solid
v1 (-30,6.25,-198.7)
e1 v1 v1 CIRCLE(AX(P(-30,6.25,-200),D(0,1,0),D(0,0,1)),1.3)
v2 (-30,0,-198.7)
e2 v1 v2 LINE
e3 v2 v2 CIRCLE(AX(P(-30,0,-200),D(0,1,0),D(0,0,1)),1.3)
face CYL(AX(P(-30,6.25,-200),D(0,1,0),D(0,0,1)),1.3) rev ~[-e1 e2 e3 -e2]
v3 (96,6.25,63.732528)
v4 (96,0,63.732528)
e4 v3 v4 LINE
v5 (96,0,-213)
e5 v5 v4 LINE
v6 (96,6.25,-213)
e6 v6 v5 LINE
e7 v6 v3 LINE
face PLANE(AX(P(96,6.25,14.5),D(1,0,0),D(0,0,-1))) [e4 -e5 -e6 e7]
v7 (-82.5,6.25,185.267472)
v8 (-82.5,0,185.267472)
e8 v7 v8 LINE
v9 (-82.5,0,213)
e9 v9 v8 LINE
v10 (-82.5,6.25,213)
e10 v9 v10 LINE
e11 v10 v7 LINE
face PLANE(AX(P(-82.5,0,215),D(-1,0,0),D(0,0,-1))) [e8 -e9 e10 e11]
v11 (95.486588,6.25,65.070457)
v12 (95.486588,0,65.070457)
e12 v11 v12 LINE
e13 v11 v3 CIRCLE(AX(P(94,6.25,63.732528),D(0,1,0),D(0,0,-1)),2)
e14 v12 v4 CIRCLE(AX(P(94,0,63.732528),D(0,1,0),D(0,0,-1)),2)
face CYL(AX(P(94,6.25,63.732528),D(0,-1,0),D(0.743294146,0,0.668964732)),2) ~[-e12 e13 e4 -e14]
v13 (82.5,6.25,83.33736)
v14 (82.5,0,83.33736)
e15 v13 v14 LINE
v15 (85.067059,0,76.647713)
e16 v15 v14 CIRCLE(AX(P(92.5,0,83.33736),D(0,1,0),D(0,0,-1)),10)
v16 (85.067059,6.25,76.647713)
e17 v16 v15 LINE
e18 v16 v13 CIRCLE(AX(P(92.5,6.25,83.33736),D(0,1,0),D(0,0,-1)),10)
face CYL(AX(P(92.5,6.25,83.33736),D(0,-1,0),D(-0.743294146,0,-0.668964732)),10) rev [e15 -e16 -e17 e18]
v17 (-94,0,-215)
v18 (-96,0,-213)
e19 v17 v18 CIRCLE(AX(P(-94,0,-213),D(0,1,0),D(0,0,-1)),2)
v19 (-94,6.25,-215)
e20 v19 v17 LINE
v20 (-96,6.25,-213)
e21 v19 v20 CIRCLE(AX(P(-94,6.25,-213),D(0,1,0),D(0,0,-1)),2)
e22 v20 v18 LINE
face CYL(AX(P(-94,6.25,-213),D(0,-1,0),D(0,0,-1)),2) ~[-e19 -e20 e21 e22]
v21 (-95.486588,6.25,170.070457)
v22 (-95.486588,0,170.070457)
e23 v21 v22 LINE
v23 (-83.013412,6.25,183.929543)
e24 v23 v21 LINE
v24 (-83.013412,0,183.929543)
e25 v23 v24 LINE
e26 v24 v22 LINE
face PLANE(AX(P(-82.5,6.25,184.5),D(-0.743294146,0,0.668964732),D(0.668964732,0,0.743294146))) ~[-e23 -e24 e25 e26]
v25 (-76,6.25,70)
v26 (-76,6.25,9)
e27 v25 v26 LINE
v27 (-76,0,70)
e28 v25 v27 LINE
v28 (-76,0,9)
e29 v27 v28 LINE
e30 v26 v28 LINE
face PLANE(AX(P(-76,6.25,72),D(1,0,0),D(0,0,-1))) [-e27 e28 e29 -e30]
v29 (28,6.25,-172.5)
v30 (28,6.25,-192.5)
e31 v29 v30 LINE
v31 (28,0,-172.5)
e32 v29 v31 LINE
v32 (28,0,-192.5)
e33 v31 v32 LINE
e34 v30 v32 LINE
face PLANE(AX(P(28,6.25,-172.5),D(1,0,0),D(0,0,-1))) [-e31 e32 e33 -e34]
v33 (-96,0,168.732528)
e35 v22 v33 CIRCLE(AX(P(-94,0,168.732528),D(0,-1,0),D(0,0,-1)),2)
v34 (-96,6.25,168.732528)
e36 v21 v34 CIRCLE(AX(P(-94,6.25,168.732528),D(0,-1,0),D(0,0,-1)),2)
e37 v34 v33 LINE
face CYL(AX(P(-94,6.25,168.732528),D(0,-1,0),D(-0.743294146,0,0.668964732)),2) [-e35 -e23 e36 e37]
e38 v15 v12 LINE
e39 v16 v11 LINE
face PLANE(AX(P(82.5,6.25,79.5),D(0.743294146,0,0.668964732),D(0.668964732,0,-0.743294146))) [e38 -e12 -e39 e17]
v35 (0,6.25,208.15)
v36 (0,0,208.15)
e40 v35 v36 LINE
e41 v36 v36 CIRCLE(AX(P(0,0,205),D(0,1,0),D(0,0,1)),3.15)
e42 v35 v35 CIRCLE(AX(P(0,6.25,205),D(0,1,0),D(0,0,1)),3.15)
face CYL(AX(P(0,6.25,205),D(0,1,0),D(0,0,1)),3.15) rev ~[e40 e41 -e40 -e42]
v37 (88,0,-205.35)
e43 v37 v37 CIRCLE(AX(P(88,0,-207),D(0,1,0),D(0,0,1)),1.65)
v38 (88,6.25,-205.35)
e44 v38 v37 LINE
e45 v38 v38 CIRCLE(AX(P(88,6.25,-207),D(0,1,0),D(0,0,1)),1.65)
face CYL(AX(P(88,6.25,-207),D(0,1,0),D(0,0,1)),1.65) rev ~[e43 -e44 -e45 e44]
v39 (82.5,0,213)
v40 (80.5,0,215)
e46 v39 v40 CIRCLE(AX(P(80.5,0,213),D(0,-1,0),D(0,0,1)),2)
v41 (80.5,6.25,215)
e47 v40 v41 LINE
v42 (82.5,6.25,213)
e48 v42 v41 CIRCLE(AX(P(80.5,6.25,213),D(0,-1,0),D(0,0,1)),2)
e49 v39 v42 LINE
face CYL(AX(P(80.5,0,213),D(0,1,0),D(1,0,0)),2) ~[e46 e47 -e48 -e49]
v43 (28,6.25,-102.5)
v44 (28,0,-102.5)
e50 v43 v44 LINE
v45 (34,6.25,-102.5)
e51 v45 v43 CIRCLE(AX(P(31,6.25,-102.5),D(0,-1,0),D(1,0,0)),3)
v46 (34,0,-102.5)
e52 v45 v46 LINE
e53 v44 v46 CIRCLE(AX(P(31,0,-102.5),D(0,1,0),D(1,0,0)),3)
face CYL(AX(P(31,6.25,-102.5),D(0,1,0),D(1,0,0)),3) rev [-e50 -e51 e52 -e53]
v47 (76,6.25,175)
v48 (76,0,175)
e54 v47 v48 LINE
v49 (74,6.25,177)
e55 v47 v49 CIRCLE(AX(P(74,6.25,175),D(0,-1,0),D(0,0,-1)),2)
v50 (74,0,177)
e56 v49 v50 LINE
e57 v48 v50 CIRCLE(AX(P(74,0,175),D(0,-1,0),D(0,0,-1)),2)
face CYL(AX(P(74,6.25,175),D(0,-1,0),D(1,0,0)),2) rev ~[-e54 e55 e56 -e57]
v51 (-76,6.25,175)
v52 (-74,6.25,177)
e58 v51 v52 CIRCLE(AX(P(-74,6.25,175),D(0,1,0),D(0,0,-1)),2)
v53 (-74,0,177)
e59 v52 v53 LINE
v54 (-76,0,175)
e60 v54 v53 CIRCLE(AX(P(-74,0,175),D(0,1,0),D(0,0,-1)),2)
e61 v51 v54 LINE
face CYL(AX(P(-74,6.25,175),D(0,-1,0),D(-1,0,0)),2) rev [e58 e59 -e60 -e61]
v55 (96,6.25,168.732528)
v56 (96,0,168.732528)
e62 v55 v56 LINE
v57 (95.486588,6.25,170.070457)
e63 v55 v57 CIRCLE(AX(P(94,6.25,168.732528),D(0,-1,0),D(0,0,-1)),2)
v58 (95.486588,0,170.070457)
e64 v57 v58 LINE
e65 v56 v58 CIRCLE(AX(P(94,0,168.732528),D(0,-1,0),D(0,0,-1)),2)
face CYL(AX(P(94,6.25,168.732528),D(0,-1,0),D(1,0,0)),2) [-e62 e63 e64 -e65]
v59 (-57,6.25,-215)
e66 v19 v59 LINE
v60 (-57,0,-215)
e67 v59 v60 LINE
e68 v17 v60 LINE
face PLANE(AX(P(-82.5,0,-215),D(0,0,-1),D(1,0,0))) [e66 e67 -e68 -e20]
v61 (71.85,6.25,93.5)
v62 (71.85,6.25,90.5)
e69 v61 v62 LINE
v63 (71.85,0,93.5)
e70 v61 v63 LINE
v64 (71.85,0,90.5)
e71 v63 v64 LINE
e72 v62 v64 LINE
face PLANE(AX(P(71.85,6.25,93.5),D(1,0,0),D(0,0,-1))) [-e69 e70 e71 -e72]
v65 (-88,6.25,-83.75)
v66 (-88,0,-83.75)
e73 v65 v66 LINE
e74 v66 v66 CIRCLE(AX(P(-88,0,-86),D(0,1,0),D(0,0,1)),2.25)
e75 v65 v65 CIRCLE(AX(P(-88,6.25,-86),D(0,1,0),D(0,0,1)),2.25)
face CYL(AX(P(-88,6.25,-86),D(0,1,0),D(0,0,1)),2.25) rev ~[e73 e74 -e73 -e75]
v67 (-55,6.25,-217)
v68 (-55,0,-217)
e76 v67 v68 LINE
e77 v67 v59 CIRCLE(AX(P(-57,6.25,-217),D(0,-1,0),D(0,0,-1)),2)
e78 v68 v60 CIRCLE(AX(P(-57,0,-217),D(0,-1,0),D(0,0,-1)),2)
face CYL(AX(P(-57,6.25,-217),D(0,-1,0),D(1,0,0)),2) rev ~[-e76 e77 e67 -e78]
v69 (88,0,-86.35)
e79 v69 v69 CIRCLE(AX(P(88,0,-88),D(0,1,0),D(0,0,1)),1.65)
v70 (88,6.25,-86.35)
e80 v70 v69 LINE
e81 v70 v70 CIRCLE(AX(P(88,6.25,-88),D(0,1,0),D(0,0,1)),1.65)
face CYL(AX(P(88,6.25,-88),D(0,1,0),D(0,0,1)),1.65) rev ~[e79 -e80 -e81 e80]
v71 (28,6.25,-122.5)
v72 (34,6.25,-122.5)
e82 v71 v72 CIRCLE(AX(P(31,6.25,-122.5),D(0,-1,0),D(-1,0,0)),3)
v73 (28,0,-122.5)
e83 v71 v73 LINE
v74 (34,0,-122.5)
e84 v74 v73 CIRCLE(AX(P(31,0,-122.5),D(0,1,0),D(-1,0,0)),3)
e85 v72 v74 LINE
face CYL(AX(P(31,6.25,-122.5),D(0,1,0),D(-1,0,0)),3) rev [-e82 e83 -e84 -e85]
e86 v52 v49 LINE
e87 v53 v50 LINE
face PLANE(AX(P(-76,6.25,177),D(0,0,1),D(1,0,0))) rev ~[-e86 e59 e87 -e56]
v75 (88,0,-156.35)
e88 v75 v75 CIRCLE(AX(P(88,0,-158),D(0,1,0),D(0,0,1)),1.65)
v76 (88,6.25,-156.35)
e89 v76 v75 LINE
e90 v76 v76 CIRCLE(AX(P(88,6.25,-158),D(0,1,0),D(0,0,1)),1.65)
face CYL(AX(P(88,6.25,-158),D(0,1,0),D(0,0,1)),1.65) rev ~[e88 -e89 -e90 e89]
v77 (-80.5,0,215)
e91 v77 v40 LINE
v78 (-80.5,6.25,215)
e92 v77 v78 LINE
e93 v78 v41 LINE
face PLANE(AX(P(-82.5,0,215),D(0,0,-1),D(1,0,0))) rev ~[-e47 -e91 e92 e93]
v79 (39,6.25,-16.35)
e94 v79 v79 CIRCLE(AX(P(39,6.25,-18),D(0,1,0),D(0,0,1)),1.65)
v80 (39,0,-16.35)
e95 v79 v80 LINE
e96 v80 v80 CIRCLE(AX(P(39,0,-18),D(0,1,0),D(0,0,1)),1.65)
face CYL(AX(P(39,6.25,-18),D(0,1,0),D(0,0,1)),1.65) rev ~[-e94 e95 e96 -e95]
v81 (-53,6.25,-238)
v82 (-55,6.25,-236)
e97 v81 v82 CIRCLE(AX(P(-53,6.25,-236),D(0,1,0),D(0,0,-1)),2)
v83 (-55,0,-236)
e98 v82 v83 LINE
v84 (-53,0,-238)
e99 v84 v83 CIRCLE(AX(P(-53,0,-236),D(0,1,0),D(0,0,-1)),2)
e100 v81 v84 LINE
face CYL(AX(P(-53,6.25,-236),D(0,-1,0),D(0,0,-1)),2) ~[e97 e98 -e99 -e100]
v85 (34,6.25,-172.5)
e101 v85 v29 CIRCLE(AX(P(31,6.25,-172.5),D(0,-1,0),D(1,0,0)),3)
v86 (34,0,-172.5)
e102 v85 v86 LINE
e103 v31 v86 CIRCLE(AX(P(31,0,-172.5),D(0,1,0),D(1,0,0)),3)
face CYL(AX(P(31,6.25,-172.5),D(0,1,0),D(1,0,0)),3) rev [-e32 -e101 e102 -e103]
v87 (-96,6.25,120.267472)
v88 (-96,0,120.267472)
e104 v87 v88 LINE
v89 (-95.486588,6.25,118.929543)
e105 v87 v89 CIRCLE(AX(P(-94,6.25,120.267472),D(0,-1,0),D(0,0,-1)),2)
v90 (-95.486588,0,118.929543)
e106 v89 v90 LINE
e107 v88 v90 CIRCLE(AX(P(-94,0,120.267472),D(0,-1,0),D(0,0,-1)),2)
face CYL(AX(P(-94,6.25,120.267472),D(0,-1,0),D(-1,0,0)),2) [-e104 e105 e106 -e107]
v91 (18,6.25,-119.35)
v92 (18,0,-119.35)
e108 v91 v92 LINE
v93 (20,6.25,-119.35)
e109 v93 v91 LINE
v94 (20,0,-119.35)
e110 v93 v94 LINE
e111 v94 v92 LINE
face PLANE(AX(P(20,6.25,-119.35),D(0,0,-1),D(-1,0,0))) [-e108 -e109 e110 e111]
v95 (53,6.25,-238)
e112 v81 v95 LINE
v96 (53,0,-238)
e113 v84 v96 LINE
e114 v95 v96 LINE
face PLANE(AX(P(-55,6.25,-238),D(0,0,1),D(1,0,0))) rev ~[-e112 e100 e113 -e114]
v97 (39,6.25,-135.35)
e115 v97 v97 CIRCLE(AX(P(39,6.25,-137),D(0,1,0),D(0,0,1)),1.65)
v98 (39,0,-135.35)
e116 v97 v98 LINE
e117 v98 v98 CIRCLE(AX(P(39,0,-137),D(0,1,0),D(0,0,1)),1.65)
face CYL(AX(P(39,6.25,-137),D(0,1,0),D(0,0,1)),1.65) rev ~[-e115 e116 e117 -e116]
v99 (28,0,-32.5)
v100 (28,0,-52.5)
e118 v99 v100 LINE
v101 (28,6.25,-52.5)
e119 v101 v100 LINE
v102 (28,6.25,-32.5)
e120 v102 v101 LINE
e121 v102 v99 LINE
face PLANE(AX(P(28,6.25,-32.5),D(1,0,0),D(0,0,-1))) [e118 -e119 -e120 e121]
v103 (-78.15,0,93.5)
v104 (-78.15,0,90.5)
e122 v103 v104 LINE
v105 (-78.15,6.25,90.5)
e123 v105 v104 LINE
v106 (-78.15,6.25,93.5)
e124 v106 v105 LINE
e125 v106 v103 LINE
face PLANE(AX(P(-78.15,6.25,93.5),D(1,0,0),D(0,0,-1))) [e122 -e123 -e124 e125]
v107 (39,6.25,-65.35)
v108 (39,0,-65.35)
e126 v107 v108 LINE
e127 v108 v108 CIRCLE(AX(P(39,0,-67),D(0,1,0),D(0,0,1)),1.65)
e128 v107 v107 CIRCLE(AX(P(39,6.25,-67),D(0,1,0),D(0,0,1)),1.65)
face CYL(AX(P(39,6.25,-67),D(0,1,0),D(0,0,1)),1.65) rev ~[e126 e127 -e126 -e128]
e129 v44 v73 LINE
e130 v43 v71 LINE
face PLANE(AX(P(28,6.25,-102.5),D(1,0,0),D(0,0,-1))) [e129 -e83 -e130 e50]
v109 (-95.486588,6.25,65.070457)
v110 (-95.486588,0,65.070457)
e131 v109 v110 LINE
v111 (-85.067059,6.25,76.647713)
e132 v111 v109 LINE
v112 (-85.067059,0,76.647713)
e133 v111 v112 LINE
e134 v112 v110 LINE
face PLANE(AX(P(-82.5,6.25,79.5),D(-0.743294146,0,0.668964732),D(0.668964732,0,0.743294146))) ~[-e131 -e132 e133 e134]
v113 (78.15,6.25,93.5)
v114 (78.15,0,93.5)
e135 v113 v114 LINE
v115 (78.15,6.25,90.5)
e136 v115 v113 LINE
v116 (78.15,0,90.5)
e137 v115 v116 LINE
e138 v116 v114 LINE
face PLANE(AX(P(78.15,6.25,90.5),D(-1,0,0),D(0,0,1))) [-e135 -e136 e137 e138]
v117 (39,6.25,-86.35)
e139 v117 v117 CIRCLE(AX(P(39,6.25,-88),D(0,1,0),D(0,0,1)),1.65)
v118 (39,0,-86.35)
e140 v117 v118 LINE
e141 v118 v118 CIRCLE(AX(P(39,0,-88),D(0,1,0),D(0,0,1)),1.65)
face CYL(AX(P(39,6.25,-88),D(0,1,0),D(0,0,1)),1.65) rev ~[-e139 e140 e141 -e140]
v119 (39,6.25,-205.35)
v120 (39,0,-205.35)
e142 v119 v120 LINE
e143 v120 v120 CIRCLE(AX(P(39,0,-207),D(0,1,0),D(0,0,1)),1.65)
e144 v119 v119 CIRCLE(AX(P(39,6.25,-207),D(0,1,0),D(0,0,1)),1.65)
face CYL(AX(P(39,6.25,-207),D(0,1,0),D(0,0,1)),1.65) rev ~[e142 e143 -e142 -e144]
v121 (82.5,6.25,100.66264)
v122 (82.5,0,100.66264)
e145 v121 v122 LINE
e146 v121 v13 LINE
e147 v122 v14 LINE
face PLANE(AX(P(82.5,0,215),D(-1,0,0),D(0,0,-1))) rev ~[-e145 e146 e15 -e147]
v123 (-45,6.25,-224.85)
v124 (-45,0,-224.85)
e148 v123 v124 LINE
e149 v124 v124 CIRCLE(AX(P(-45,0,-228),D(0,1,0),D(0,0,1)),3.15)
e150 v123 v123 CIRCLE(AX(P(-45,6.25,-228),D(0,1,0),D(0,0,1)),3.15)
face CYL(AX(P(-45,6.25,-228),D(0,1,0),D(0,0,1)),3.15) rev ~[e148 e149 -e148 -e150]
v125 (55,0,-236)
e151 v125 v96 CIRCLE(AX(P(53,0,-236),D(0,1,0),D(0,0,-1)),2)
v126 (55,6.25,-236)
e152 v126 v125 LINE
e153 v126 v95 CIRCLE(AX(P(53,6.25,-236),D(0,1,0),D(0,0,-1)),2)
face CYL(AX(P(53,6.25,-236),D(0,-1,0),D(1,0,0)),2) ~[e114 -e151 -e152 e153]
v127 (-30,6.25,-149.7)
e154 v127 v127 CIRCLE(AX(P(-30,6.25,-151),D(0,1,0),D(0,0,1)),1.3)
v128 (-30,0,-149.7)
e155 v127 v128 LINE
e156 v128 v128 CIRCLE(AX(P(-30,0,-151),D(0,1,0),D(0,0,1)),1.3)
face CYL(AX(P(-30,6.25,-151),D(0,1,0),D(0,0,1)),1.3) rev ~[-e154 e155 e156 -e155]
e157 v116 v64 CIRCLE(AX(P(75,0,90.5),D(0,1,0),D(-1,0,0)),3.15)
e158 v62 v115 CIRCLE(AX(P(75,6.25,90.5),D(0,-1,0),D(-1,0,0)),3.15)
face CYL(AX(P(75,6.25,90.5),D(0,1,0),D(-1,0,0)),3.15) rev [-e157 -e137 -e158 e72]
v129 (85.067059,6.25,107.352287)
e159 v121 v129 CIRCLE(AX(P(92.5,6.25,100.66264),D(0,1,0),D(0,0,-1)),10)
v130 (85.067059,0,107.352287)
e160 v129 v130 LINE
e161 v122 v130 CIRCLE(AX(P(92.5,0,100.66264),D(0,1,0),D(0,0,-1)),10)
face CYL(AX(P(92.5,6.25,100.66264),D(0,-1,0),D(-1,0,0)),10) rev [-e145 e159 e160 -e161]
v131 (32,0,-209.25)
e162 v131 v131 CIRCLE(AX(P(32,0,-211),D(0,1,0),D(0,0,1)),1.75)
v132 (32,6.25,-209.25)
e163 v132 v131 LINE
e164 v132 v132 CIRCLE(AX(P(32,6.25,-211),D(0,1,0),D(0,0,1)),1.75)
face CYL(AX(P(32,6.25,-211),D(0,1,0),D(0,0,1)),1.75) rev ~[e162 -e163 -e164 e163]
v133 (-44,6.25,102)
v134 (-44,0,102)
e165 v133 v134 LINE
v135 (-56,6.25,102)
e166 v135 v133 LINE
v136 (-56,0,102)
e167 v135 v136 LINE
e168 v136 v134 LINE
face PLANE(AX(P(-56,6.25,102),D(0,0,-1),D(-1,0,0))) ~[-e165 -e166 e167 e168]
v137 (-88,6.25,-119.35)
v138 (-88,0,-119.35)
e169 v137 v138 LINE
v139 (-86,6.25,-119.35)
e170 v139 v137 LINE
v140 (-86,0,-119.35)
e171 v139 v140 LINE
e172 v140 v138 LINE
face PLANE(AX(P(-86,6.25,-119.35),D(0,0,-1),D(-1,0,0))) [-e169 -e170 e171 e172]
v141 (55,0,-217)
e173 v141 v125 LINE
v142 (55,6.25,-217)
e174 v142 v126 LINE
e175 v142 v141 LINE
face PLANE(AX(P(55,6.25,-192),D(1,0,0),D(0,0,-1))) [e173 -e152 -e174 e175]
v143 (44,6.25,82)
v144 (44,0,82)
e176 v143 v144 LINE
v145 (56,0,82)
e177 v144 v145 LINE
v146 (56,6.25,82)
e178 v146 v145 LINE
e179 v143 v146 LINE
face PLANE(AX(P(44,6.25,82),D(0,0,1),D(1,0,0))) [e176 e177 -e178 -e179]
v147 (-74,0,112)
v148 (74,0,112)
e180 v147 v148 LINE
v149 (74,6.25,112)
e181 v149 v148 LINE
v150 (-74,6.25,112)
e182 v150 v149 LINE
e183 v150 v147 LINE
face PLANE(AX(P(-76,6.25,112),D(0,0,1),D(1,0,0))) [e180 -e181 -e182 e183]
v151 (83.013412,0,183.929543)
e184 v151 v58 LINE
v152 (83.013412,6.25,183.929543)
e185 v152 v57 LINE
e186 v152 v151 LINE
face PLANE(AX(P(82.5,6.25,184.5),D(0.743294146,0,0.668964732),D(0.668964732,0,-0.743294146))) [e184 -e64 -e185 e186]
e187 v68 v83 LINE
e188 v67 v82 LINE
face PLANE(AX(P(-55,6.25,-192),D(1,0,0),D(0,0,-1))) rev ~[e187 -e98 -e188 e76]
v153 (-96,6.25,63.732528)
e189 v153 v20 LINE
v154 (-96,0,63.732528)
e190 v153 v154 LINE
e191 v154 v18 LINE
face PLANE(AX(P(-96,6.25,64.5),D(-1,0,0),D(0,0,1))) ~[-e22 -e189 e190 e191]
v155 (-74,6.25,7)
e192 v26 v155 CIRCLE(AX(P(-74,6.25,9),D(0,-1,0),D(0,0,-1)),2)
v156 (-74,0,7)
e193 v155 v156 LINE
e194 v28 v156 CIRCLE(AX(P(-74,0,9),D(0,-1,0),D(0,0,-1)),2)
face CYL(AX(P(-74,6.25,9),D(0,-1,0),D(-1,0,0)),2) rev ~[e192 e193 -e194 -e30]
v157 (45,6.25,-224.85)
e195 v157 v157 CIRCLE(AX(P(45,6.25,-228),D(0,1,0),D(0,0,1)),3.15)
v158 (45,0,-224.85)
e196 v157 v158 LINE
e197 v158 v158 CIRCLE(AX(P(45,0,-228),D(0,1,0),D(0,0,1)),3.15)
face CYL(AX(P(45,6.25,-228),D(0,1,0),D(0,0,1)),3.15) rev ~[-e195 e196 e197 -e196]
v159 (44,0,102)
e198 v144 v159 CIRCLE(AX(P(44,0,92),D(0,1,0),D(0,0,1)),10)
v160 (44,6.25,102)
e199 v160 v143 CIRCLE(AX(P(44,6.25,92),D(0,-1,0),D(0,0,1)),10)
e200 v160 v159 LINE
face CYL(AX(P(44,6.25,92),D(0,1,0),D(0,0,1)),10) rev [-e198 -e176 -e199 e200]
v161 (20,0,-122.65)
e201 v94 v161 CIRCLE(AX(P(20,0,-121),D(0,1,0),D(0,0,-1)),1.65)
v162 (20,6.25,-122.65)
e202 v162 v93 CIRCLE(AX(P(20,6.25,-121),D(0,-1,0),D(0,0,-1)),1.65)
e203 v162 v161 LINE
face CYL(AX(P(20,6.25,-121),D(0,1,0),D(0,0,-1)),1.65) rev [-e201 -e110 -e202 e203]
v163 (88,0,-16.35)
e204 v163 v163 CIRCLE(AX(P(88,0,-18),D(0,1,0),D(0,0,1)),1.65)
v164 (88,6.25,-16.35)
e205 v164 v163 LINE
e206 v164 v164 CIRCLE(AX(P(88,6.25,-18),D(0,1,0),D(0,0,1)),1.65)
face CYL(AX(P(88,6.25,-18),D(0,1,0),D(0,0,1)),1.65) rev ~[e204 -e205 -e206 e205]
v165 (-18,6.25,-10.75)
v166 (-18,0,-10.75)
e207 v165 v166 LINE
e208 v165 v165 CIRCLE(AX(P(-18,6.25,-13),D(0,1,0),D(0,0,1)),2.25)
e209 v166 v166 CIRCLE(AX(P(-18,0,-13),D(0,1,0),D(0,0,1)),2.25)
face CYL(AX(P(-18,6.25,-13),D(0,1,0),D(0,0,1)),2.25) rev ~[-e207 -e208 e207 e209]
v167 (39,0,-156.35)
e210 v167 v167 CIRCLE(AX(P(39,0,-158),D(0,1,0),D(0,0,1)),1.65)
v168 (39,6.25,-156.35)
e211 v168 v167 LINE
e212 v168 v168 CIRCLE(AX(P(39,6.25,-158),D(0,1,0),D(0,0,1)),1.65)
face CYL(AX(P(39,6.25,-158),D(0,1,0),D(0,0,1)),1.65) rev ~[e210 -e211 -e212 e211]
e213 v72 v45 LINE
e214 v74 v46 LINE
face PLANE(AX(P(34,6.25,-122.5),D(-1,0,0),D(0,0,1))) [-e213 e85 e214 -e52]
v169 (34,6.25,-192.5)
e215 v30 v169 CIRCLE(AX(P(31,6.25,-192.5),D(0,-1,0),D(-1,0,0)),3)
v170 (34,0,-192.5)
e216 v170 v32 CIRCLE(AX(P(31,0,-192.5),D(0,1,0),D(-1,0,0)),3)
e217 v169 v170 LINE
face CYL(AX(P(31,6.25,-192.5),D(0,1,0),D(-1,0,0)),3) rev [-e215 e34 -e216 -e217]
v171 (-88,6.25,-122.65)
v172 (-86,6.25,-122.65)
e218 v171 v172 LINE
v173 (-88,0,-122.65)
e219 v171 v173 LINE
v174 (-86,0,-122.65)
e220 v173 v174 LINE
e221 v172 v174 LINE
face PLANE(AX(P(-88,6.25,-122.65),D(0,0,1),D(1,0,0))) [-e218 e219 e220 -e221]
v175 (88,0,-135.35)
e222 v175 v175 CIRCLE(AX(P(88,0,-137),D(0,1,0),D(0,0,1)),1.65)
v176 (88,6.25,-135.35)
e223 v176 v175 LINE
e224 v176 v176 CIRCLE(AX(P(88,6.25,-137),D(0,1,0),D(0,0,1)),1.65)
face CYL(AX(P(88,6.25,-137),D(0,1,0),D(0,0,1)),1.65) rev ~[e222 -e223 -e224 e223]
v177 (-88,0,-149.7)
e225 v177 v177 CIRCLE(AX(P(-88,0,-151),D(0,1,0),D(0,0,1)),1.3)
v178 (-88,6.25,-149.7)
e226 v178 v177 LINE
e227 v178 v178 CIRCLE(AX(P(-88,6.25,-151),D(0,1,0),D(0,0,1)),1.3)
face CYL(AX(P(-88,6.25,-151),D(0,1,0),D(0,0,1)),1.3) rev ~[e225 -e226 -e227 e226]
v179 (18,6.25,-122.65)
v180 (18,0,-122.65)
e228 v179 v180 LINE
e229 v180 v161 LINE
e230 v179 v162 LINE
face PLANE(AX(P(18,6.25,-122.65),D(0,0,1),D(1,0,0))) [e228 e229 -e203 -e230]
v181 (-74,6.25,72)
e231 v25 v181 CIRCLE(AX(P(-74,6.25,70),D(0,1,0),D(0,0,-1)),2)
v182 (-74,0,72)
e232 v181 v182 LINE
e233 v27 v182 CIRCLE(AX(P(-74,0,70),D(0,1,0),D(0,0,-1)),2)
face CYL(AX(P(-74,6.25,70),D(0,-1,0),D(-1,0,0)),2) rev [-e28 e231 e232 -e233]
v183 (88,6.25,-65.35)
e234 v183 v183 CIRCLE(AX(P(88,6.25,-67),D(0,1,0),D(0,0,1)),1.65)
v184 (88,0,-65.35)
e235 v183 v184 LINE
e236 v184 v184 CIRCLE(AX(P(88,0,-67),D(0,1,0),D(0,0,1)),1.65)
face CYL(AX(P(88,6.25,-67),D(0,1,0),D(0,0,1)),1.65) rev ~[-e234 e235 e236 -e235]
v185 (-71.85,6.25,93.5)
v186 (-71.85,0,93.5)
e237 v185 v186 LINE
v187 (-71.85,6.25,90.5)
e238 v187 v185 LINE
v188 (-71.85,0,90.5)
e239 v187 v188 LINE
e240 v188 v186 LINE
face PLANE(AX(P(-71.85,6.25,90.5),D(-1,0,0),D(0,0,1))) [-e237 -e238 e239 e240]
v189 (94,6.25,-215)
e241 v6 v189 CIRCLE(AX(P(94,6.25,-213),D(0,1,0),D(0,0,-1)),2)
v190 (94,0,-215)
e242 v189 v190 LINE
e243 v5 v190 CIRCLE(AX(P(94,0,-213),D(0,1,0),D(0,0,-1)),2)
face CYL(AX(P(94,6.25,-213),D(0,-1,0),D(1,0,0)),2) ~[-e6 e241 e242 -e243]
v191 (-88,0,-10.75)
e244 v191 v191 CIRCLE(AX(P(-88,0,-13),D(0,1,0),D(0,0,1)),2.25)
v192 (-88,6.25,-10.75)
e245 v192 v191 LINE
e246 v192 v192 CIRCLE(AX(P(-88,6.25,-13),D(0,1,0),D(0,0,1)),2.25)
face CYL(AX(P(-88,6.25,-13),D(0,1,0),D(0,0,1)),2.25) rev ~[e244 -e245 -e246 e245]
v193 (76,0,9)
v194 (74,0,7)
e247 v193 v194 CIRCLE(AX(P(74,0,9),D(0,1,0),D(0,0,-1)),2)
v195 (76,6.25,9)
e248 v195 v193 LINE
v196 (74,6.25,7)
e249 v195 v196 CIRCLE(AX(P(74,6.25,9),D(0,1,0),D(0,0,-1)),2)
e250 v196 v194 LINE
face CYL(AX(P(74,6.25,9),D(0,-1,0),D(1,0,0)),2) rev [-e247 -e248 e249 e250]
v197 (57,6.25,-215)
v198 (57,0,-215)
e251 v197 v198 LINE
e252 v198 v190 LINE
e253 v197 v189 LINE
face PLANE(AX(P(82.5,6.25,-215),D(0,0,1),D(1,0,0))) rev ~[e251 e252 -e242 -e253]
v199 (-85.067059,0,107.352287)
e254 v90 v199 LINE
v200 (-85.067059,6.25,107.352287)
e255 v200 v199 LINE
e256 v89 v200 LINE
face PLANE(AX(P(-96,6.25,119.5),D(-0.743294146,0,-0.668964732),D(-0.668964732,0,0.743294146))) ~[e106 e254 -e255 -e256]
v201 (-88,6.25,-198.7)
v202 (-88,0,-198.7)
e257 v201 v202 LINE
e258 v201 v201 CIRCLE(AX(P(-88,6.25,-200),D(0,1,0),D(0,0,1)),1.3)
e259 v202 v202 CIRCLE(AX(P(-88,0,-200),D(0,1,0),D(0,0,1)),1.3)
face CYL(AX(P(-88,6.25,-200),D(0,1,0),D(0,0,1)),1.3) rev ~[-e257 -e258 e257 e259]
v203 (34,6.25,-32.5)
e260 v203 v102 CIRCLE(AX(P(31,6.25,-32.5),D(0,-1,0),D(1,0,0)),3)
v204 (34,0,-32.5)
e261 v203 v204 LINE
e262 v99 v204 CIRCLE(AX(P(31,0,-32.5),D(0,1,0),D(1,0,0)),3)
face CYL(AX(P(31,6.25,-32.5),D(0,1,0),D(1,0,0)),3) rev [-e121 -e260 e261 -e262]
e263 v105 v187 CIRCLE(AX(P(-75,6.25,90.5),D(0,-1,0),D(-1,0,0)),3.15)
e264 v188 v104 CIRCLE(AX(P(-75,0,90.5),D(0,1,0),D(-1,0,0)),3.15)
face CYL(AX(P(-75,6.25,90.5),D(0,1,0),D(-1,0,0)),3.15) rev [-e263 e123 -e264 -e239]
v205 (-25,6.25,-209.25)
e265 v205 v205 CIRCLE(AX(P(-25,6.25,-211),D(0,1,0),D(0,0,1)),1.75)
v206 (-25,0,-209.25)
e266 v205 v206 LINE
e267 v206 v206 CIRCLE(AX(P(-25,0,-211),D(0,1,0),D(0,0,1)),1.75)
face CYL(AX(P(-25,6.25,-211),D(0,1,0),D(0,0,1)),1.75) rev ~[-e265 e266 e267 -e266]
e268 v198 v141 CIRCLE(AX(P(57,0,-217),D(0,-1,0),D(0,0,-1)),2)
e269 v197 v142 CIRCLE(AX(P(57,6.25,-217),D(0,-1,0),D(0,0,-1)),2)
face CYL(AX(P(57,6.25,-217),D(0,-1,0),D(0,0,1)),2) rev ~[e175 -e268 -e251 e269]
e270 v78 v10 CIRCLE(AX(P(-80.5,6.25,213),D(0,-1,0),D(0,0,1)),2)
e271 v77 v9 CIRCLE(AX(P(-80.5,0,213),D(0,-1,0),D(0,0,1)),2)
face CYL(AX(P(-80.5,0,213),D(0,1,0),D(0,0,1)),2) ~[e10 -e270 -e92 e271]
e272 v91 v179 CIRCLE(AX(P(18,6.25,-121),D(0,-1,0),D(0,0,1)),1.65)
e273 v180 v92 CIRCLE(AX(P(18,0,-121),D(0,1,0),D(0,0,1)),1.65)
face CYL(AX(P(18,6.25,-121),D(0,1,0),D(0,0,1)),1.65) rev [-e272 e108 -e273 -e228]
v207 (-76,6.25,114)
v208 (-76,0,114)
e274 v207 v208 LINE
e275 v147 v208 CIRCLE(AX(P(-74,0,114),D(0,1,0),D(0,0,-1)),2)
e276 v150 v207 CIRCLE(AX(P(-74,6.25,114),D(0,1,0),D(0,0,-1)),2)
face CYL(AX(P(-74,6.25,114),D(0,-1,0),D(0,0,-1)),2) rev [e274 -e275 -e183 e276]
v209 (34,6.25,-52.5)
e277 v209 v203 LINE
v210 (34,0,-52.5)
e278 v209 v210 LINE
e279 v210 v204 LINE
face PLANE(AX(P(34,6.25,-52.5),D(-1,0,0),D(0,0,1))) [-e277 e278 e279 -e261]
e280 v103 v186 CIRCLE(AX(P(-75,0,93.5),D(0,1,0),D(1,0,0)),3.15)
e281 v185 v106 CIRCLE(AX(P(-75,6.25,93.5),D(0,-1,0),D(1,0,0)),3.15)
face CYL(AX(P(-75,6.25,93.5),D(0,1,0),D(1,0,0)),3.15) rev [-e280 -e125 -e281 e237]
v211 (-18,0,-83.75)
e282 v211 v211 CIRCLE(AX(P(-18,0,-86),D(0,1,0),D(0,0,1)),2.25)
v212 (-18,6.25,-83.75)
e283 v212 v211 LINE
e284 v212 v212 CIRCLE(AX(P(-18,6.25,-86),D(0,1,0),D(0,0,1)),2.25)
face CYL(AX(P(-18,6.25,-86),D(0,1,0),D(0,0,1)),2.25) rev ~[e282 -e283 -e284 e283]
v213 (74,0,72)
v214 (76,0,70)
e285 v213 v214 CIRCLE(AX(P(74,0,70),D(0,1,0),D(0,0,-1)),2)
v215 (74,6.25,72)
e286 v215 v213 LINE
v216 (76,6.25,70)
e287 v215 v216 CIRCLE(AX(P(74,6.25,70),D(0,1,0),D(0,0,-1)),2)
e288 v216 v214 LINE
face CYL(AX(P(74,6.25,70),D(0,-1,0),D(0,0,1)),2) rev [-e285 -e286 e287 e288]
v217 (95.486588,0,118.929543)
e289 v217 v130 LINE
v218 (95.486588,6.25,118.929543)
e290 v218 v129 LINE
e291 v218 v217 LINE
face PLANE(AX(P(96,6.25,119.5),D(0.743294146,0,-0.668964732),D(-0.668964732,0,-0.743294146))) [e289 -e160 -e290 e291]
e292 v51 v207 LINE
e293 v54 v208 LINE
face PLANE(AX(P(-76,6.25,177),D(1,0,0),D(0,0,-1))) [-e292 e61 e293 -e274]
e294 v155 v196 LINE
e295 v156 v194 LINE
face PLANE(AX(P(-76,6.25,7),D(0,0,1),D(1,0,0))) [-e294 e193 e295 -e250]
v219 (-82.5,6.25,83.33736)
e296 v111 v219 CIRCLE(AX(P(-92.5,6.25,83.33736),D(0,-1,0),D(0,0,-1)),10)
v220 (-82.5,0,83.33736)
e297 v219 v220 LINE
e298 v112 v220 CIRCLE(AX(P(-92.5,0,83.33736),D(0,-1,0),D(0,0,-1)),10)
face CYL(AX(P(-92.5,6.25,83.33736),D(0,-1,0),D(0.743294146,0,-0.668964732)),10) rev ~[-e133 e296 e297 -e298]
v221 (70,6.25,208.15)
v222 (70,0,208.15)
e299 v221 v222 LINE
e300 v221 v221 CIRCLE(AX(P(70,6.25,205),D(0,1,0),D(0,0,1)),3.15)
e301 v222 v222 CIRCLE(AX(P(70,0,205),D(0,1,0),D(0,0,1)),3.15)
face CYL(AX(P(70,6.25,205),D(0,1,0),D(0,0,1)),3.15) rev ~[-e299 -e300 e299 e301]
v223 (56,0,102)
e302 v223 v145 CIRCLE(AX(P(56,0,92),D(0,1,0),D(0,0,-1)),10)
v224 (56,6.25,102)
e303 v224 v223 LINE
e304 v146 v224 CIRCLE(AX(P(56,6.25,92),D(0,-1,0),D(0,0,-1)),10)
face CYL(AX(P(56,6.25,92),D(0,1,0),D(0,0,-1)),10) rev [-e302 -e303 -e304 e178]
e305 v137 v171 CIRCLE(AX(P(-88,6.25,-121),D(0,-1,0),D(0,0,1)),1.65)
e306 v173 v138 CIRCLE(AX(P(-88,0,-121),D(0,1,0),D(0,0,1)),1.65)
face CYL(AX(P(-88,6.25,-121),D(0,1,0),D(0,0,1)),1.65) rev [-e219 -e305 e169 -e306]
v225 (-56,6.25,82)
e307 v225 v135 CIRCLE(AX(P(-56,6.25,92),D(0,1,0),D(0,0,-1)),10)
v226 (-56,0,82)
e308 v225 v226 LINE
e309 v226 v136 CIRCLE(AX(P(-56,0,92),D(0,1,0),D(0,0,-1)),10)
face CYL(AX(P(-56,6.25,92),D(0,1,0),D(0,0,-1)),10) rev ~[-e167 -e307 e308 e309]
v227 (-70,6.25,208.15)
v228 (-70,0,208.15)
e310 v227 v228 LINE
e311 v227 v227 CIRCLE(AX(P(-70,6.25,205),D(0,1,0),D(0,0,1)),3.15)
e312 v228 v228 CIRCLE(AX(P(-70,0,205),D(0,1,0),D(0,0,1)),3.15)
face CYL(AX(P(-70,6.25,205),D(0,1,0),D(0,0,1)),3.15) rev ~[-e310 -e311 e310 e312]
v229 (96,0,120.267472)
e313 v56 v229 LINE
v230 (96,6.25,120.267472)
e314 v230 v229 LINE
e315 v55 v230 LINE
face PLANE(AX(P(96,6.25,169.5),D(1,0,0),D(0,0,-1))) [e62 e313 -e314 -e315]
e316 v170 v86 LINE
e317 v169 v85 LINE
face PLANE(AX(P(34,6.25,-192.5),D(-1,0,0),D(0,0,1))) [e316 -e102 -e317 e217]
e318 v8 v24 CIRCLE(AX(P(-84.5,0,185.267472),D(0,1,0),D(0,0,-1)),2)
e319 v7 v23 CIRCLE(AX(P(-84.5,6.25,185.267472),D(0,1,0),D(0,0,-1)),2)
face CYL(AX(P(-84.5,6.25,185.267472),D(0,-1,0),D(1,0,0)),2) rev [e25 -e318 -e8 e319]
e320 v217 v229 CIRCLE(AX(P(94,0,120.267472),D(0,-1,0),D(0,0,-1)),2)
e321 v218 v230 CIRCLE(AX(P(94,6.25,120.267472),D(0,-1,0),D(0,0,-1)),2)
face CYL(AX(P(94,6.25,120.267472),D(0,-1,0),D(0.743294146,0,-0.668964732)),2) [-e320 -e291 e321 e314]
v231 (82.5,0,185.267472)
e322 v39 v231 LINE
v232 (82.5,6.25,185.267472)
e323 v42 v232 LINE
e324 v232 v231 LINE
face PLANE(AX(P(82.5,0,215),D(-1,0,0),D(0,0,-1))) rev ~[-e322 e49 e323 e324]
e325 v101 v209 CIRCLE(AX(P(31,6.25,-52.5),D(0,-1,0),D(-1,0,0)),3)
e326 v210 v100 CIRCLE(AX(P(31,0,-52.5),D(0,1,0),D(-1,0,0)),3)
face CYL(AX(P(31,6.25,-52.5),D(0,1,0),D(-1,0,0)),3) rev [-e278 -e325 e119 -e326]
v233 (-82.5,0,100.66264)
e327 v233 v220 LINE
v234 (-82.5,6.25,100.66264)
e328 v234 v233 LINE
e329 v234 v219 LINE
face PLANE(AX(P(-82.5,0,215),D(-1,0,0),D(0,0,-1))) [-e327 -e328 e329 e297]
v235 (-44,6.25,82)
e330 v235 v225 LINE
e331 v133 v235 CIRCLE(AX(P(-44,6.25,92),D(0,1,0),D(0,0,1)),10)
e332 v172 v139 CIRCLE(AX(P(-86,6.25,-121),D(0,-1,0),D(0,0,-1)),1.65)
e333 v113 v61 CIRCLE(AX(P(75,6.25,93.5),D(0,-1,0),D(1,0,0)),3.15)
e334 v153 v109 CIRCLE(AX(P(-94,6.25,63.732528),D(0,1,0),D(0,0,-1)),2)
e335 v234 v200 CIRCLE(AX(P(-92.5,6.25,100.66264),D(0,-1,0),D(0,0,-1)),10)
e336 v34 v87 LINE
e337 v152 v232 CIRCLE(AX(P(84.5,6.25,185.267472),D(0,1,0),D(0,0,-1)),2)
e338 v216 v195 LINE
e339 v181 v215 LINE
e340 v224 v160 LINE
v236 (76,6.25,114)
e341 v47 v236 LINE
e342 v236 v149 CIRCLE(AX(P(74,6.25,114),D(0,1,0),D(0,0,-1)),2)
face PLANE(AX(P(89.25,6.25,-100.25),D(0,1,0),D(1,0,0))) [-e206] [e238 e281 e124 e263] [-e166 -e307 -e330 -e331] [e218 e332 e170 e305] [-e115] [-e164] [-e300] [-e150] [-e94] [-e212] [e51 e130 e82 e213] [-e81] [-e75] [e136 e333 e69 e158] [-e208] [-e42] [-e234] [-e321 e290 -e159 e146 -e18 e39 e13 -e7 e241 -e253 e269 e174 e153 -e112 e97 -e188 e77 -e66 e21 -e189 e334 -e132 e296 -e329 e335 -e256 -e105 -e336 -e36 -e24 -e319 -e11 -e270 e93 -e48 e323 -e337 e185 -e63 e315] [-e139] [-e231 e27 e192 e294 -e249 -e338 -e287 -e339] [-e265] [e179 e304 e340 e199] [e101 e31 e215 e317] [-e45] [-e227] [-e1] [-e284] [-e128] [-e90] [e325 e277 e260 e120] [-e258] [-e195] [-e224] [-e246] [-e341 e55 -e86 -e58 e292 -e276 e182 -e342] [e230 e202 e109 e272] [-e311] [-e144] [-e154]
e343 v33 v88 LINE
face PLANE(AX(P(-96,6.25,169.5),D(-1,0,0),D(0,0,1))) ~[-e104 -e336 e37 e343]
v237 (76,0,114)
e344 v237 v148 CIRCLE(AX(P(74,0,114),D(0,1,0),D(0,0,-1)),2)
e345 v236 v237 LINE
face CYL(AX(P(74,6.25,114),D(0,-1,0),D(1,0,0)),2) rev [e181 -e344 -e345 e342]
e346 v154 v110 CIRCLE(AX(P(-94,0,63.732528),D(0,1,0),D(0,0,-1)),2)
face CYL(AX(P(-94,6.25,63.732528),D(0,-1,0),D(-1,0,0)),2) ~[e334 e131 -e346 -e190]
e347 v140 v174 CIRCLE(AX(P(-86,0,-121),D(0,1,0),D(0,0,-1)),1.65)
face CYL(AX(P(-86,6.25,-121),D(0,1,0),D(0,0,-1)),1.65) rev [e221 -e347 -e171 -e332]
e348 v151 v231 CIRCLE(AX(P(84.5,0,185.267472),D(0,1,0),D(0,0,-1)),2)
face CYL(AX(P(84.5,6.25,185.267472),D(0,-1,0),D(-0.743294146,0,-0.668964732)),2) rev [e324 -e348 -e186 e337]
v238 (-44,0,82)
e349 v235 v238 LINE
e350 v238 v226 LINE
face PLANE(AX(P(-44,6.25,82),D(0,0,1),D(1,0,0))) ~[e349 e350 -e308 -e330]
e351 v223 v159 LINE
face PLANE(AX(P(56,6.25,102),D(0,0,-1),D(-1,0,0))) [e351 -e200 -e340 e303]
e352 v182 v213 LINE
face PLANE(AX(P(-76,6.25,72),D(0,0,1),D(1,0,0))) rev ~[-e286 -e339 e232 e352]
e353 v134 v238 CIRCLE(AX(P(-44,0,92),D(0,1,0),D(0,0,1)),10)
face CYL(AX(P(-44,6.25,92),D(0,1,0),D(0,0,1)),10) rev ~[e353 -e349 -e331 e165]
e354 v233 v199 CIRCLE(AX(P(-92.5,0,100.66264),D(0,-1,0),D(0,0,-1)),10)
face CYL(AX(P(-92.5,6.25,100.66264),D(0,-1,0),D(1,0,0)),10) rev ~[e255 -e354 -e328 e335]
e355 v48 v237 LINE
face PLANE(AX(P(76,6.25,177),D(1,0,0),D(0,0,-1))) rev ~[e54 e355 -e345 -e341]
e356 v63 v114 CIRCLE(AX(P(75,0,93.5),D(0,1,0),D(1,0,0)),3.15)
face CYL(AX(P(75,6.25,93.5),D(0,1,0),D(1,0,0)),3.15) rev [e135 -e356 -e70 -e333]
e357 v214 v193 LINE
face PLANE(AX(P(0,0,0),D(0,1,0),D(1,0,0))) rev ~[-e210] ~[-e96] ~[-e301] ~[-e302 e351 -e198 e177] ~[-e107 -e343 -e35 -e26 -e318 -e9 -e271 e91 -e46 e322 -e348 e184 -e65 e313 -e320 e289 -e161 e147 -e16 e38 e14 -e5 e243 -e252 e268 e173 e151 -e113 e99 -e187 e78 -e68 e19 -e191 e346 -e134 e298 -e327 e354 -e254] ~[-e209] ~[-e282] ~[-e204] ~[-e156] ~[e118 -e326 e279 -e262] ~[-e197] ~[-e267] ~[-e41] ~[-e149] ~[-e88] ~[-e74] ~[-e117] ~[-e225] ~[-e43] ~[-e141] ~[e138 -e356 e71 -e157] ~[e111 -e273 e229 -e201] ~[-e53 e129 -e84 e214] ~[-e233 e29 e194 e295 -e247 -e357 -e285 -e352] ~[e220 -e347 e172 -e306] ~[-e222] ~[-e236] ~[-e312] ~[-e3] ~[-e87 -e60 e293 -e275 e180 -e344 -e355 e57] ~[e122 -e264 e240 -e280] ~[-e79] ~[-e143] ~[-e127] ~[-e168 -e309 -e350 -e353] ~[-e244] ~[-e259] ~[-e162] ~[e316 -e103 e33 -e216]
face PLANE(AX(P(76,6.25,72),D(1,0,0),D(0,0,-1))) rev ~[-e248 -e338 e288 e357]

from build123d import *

# Parameters (mm, degrees)
SKETCH1_W           = 165
SKETCH1_H           = 430
BOSS_EXTRUDE1_DEPTH = 6.25
SKETCH2_W           = 110
SKETCH2_H           = 46
BOSS_EXTRUDE2_DEPTH = 6.25
SKETCH3_R           = 3.15
CUT_EXTRUDE1_DEPTH  = 252.97085645
CUT_EXTRUDE3_DEPTH  = 252.97085645
SKETCH4_W           = 152
SKETCH4_H           = 65
CUT_EXTRUDE2_DEPTH  = 252.97085645
BOSS_EXTRUDE3_DEPTH = 6.25
CUT_EXTRUDE4_DEPTH  = 257.708127063
SKETCH14_W          = 13.5
SKETCH14_H          = 229.5
BOSS_EXTRUDE4_DEPTH = 6.25
FILLET1_R           = 2
SKETCH8_R           = 1.65
CUT_EXTRUDE5_DEPTH  = 257.708127063
CUT_EXTRUDE8_DEPTH  = 257.708127063
LPATTERN1_COUNT     = 3
LPATTERN1_PITCH     = 70
SKETCH9_R           = 2.25
CUT_EXTRUDE6_DEPTH  = 257.708127063
SKETCH10_R          = 1.3
CUT_EXTRUDE7_DEPTH  = 257.708127063
FILLET2_R           = 10
SKETCH13_R          = 3.15
CUT_EXTRUDE9_DEPTH  = 257.708127063
CUT_EXTRUDE10_DEPTH = 257.708127063
FILLET3_R           = 2
SKETCH16_R          = 1.75
CUT_EXTRUDE11_DEPTH = 257.708127063


with BuildPart() as part:
    # Sketch1 → Boss-Extrude1 (new body)
    with BuildSketch(Plane(origin=(0, 0, 0), x_dir=(1, 0, 0), z_dir=(0, 1, 0))):
        Rectangle(SKETCH1_W, SKETCH1_H)
    extrude(amount=BOSS_EXTRUDE1_DEPTH)

    # Sketch2 → Boss-Extrude2 (add)
    with BuildSketch(Plane(origin=(0, 6.25, 0), x_dir=(1, 0, 0), z_dir=(0, 1, 0))):
        with Locations((0, 215)):
            Rectangle(SKETCH2_W, SKETCH2_H)
    extrude(amount=-BOSS_EXTRUDE2_DEPTH)

    # Sketch3 → Cut-Extrude1 (cut, through all)
    with BuildSketch(Plane(origin=(0, 6.25, 0), x_dir=(1, 0, 0), z_dir=(0, 1, 0))):
        with Locations(Location((-45, 228, 0), (0, 0, 270))):
            Circle(SKETCH3_R)
        with Locations(Location((45, 228, 0), (0, 0, 270))):
            Circle(SKETCH3_R)
    extrude(amount=-CUT_EXTRUDE1_DEPTH, mode=Mode.SUBTRACT)

    # Sketch5 → Cut-Extrude3 (cut, through all)
    with BuildSketch(Plane(origin=(0, 6.25, 0), x_dir=(1, 0, 0), z_dir=(0, 1, 0))):
        with BuildLine():
            Line((-78.15, -93.5), (-78.15, -90.5))
            ThreePointArc((-78.15, -90.5), (-75, -87.35), (-71.85, -90.5))
            Line((-71.85, -90.5), (-71.85, -93.5))
            ThreePointArc((-71.85, -93.5), (-75, -96.65), (-78.15, -93.5))
        make_face()
        with BuildLine():
            Line((71.85, -93.5), (71.85, -90.5))
            ThreePointArc((71.85, -90.5), (75, -87.35), (78.15, -90.5))
            Line((78.15, -90.5), (78.15, -93.5))
            ThreePointArc((78.15, -93.5), (75, -96.65), (71.85, -93.5))
        make_face()
    extrude(amount=-CUT_EXTRUDE3_DEPTH, mode=Mode.SUBTRACT)

    # Sketch4 → Cut-Extrude2 (cut, through all)
    with BuildSketch(Plane(origin=(0, 6.25, 0), x_dir=(1, 0, 0), z_dir=(0, 1, 0))):
        with Locations((0, -39.5)):
            Rectangle(SKETCH4_W, SKETCH4_H)
        with Locations((0, -144.5)):
            Rectangle(SKETCH4_W, SKETCH4_H)
    extrude(amount=-CUT_EXTRUDE2_DEPTH, mode=Mode.SUBTRACT)

    # Sketch6 → Boss-Extrude3 (add)
    with BuildSketch(Plane(origin=(0, 6.25, 0), x_dir=(1, 0, 0), z_dir=(0, 1, 0))):
        Polygon((82.5, 0.5), (82.5, -79.5), (96, -64.5), (96, -14.5), align=None)
        Polygon((82.5, -104.5), (82.5, -184.5), (96, -169.5), (96, -119.5), align=None)
    boss_extrude3 = extrude(amount=-BOSS_EXTRUDE3_DEPTH)

    # Sketch7 → Cut-Extrude4 (cut, through all)
    with BuildSketch(Plane(origin=(0, 6.25, 0), x_dir=(1, 0, 0), z_dir=(0, 1, 0))):
        with BuildLine():
            Line((44, -82), (56, -82))
            ThreePointArc((56, -82), (66, -92), (56, -102))
            Line((56, -102), (44, -102))
            ThreePointArc((44, -102), (34, -92), (44, -82))
        make_face()
    cut_extrude4 = extrude(amount=-CUT_EXTRUDE4_DEPTH, mode=Mode.SUBTRACT)

    # Sketch14 → Boss-Extrude4 (add)
    with BuildSketch(Plane(origin=(0, 6.25, 0), x_dir=(1, 0, 0), z_dir=(0, 1, 0))):
        with Locations((89.25, 100.25)):
            Rectangle(SKETCH14_W, SKETCH14_H)
    boss_extrude4 = extrude(amount=-BOSS_EXTRUDE4_DEPTH)

    # Mirror1: Boss-Extrude3, Cut-Extrude4, Boss-Extrude4 across plane
    add(boss_extrude3.mirror(Plane(origin=(0, 0, 0), x_dir=(0, 0, 1), z_dir=(1, 0, 0))))
    add(cut_extrude4.mirror(Plane(origin=(0, 0, 0), x_dir=(0, 0, 1), z_dir=(1, 0, 0))), mode=Mode.SUBTRACT)
    add(boss_extrude4.mirror(Plane(origin=(0, 0, 0), x_dir=(0, 0, 1), z_dir=(1, 0, 0))))

    # Fillet1
    fillet1_edges = [part.edges().sort_by_distance(p)[0] for p in [
        (76, 3.125, 7),
        (76, 3.125, 72),
        (-76, 3.125, 72),
        (-76, 3.125, 7),
        (76, 3.125, 112),
        (76, 3.125, 177),
        (-76, 3.125, 177),
        (-76, 3.125, 112),
    ]]
    fillet(fillet1_edges, radius=FILLET1_R)

    # Sketch8 → Cut-Extrude5 (cut, through all)
    with BuildSketch(Plane(origin=(0, 6.25, 0), x_dir=(1, 0, 0), z_dir=(0, 1, 0))):
        with Locations(Location((39, 207, 0), (0, 0, 270))):
            Circle(SKETCH8_R)
        with Locations(Location((88, 207, 0), (0, 0, 270))):
            Circle(SKETCH8_R)
        with Locations(Location((88, 158, 0), (0, 0, 270))):
            Circle(SKETCH8_R)
        with Locations(Location((39, 158, 0), (0, 0, 270))):
            Circle(SKETCH8_R)
    cut_extrude5 = extrude(amount=-CUT_EXTRUDE5_DEPTH, mode=Mode.SUBTRACT)

    # Sketch12 → Cut-Extrude8 (cut, through all)
    with BuildSketch(Plane(origin=(0, 6.25, 0), x_dir=(1, 0, 0), z_dir=(0, 1, 0))):
        with BuildLine():
            Line((28, 172.5), (28, 192.5))
            ThreePointArc((28, 192.5), (31, 195.5), (34, 192.5))
            Line((34, 192.5), (34, 172.5))
            ThreePointArc((34, 172.5), (31, 169.5), (28, 172.5))
        make_face()
    cut_extrude8 = extrude(amount=-CUT_EXTRUDE8_DEPTH, mode=Mode.SUBTRACT)

    # LPattern1: Cut-Extrude5, Cut-Extrude8 ×3
    with Locations(*[(0, 0, i * LPATTERN1_PITCH) for i in range(1, LPATTERN1_COUNT)]):
        add(cut_extrude5, mode=Mode.SUBTRACT)
        add(cut_extrude8, mode=Mode.SUBTRACT)

    # Sketch9 → Cut-Extrude6 (cut, through all)
    with BuildSketch(Plane(origin=(0, 6.25, 0), x_dir=(1, 0, 0), z_dir=(0, 1, 0))):
        with Locations(Location((-88, 86, 0), (0, 0, 270))):
            Circle(SKETCH9_R)
        with Locations(Location((-18, 86, 0), (0, 0, 270))):
            Circle(SKETCH9_R)
        with Locations(Location((-88, 13, 0), (0, 0, 270))):
            Circle(SKETCH9_R)
        with Locations(Location((-18, 13, 0), (0, 0, 270))):
            Circle(SKETCH9_R)
    extrude(amount=-CUT_EXTRUDE6_DEPTH, mode=Mode.SUBTRACT)

    # Sketch10 → Cut-Extrude7 (cut, through all)
    with BuildSketch(Plane(origin=(0, 6.25, 0), x_dir=(1, 0, 0), z_dir=(0, 1, 0))):
        with Locations(Location((-88, 200, 0), (0, 0, 270))):
            Circle(SKETCH10_R)
        with Locations(Location((-30, 200, 0), (0, 0, 270))):
            Circle(SKETCH10_R)
        with Locations(Location((-88, 151, 0), (0, 0, 270))):
            Circle(SKETCH10_R)
        with Locations(Location((-30, 151, 0), (0, 0, 270))):
            Circle(SKETCH10_R)
    extrude(amount=-CUT_EXTRUDE7_DEPTH, mode=Mode.SUBTRACT)

    # Fillet2
    fillet2_edges = [part.edges().sort_by_distance(p)[0] for p in [
        (82.5, 3.125, 79.5),
        (82.5, 3.125, 104.5),
        (-82.5, 3.125, 79.5),
        (-82.5, 3.125, 104.5),
    ]]
    fillet(fillet2_edges, radius=FILLET2_R)

    # Sketch13 → Cut-Extrude9 (cut, through all)
    with BuildSketch(Plane(origin=(0, 6.25, 0), x_dir=(1, 0, 0), z_dir=(0, 1, 0))):
        with Locations(Location((-70, -205, 0), (0, 0, 270))):
            Circle(SKETCH13_R)
        with Locations(Location((70, -205, 0), (0, 0, 270))):
            Circle(SKETCH13_R)
        with Locations(Location((0, -205, 0), (0, 0, 270))):
            Circle(SKETCH13_R)
    extrude(amount=-CUT_EXTRUDE9_DEPTH, mode=Mode.SUBTRACT)

    # Sketch15 → Cut-Extrude10 (cut, through all)
    with BuildSketch(Plane(origin=(0, 6.25, 0), x_dir=(1, 0, 0), z_dir=(0, 1, 0))):
        with BuildLine():
            Line((-88, 122.65), (-86, 122.65))
            ThreePointArc((-86, 122.65), (-84.35, 121), (-86, 119.35))
            Line((-86, 119.35), (-88, 119.35))
            ThreePointArc((-88, 119.35), (-89.65, 121), (-88, 122.65))
        make_face()
        with BuildLine():
            Line((20, 119.35), (18, 119.35))
            ThreePointArc((18, 119.35), (16.35, 121), (18, 122.65))
            Line((18, 122.65), (20, 122.65))
            ThreePointArc((20, 122.65), (21.65, 121), (20, 119.35))
        make_face()
    extrude(amount=-CUT_EXTRUDE10_DEPTH, mode=Mode.SUBTRACT)

    # Fillet3
    fillet3_edges = [part.edges().sort_by_distance(p)[0] for p in [
        (96, 3.125, 64.5),
        (82.5, 3.125, 184.5),
        (96, 3.125, 169.5),
        (96, 3.125, 119.5),
        (96, 3.125, -215),
        (-96, 3.125, 64.5),
        (-96, 3.125, 119.5),
        (-82.5, 3.125, 184.5),
        (-96, 3.125, 169.5),
        (55, 3.125, -238),
        (-96, 3.125, -215),
        (-55, 3.125, -238),
        (-55, 3.125, -215),
        (55, 3.125, -215),
        (82.5, 3.125, 215),
        (-82.5, 3.125, 215),
    ]]
    fillet(fillet3_edges, radius=FILLET3_R)

    # Sketch16 → Cut-Extrude11 (cut, through all)
    with BuildSketch(Plane(origin=(0, 6.25, 0), x_dir=(1, 0, 0), z_dir=(0, 1, 0))):
        with Locations(Location((-25, 211, 0), (0, 0, 270))):
            Circle(SKETCH16_R)
        with Locations(Location((32, 211, 0), (0, 0, 270))):
            Circle(SKETCH16_R)
    extrude(amount=-CUT_EXTRUDE11_DEPTH, mode=Mode.SUBTRACT)


solid = part.part
